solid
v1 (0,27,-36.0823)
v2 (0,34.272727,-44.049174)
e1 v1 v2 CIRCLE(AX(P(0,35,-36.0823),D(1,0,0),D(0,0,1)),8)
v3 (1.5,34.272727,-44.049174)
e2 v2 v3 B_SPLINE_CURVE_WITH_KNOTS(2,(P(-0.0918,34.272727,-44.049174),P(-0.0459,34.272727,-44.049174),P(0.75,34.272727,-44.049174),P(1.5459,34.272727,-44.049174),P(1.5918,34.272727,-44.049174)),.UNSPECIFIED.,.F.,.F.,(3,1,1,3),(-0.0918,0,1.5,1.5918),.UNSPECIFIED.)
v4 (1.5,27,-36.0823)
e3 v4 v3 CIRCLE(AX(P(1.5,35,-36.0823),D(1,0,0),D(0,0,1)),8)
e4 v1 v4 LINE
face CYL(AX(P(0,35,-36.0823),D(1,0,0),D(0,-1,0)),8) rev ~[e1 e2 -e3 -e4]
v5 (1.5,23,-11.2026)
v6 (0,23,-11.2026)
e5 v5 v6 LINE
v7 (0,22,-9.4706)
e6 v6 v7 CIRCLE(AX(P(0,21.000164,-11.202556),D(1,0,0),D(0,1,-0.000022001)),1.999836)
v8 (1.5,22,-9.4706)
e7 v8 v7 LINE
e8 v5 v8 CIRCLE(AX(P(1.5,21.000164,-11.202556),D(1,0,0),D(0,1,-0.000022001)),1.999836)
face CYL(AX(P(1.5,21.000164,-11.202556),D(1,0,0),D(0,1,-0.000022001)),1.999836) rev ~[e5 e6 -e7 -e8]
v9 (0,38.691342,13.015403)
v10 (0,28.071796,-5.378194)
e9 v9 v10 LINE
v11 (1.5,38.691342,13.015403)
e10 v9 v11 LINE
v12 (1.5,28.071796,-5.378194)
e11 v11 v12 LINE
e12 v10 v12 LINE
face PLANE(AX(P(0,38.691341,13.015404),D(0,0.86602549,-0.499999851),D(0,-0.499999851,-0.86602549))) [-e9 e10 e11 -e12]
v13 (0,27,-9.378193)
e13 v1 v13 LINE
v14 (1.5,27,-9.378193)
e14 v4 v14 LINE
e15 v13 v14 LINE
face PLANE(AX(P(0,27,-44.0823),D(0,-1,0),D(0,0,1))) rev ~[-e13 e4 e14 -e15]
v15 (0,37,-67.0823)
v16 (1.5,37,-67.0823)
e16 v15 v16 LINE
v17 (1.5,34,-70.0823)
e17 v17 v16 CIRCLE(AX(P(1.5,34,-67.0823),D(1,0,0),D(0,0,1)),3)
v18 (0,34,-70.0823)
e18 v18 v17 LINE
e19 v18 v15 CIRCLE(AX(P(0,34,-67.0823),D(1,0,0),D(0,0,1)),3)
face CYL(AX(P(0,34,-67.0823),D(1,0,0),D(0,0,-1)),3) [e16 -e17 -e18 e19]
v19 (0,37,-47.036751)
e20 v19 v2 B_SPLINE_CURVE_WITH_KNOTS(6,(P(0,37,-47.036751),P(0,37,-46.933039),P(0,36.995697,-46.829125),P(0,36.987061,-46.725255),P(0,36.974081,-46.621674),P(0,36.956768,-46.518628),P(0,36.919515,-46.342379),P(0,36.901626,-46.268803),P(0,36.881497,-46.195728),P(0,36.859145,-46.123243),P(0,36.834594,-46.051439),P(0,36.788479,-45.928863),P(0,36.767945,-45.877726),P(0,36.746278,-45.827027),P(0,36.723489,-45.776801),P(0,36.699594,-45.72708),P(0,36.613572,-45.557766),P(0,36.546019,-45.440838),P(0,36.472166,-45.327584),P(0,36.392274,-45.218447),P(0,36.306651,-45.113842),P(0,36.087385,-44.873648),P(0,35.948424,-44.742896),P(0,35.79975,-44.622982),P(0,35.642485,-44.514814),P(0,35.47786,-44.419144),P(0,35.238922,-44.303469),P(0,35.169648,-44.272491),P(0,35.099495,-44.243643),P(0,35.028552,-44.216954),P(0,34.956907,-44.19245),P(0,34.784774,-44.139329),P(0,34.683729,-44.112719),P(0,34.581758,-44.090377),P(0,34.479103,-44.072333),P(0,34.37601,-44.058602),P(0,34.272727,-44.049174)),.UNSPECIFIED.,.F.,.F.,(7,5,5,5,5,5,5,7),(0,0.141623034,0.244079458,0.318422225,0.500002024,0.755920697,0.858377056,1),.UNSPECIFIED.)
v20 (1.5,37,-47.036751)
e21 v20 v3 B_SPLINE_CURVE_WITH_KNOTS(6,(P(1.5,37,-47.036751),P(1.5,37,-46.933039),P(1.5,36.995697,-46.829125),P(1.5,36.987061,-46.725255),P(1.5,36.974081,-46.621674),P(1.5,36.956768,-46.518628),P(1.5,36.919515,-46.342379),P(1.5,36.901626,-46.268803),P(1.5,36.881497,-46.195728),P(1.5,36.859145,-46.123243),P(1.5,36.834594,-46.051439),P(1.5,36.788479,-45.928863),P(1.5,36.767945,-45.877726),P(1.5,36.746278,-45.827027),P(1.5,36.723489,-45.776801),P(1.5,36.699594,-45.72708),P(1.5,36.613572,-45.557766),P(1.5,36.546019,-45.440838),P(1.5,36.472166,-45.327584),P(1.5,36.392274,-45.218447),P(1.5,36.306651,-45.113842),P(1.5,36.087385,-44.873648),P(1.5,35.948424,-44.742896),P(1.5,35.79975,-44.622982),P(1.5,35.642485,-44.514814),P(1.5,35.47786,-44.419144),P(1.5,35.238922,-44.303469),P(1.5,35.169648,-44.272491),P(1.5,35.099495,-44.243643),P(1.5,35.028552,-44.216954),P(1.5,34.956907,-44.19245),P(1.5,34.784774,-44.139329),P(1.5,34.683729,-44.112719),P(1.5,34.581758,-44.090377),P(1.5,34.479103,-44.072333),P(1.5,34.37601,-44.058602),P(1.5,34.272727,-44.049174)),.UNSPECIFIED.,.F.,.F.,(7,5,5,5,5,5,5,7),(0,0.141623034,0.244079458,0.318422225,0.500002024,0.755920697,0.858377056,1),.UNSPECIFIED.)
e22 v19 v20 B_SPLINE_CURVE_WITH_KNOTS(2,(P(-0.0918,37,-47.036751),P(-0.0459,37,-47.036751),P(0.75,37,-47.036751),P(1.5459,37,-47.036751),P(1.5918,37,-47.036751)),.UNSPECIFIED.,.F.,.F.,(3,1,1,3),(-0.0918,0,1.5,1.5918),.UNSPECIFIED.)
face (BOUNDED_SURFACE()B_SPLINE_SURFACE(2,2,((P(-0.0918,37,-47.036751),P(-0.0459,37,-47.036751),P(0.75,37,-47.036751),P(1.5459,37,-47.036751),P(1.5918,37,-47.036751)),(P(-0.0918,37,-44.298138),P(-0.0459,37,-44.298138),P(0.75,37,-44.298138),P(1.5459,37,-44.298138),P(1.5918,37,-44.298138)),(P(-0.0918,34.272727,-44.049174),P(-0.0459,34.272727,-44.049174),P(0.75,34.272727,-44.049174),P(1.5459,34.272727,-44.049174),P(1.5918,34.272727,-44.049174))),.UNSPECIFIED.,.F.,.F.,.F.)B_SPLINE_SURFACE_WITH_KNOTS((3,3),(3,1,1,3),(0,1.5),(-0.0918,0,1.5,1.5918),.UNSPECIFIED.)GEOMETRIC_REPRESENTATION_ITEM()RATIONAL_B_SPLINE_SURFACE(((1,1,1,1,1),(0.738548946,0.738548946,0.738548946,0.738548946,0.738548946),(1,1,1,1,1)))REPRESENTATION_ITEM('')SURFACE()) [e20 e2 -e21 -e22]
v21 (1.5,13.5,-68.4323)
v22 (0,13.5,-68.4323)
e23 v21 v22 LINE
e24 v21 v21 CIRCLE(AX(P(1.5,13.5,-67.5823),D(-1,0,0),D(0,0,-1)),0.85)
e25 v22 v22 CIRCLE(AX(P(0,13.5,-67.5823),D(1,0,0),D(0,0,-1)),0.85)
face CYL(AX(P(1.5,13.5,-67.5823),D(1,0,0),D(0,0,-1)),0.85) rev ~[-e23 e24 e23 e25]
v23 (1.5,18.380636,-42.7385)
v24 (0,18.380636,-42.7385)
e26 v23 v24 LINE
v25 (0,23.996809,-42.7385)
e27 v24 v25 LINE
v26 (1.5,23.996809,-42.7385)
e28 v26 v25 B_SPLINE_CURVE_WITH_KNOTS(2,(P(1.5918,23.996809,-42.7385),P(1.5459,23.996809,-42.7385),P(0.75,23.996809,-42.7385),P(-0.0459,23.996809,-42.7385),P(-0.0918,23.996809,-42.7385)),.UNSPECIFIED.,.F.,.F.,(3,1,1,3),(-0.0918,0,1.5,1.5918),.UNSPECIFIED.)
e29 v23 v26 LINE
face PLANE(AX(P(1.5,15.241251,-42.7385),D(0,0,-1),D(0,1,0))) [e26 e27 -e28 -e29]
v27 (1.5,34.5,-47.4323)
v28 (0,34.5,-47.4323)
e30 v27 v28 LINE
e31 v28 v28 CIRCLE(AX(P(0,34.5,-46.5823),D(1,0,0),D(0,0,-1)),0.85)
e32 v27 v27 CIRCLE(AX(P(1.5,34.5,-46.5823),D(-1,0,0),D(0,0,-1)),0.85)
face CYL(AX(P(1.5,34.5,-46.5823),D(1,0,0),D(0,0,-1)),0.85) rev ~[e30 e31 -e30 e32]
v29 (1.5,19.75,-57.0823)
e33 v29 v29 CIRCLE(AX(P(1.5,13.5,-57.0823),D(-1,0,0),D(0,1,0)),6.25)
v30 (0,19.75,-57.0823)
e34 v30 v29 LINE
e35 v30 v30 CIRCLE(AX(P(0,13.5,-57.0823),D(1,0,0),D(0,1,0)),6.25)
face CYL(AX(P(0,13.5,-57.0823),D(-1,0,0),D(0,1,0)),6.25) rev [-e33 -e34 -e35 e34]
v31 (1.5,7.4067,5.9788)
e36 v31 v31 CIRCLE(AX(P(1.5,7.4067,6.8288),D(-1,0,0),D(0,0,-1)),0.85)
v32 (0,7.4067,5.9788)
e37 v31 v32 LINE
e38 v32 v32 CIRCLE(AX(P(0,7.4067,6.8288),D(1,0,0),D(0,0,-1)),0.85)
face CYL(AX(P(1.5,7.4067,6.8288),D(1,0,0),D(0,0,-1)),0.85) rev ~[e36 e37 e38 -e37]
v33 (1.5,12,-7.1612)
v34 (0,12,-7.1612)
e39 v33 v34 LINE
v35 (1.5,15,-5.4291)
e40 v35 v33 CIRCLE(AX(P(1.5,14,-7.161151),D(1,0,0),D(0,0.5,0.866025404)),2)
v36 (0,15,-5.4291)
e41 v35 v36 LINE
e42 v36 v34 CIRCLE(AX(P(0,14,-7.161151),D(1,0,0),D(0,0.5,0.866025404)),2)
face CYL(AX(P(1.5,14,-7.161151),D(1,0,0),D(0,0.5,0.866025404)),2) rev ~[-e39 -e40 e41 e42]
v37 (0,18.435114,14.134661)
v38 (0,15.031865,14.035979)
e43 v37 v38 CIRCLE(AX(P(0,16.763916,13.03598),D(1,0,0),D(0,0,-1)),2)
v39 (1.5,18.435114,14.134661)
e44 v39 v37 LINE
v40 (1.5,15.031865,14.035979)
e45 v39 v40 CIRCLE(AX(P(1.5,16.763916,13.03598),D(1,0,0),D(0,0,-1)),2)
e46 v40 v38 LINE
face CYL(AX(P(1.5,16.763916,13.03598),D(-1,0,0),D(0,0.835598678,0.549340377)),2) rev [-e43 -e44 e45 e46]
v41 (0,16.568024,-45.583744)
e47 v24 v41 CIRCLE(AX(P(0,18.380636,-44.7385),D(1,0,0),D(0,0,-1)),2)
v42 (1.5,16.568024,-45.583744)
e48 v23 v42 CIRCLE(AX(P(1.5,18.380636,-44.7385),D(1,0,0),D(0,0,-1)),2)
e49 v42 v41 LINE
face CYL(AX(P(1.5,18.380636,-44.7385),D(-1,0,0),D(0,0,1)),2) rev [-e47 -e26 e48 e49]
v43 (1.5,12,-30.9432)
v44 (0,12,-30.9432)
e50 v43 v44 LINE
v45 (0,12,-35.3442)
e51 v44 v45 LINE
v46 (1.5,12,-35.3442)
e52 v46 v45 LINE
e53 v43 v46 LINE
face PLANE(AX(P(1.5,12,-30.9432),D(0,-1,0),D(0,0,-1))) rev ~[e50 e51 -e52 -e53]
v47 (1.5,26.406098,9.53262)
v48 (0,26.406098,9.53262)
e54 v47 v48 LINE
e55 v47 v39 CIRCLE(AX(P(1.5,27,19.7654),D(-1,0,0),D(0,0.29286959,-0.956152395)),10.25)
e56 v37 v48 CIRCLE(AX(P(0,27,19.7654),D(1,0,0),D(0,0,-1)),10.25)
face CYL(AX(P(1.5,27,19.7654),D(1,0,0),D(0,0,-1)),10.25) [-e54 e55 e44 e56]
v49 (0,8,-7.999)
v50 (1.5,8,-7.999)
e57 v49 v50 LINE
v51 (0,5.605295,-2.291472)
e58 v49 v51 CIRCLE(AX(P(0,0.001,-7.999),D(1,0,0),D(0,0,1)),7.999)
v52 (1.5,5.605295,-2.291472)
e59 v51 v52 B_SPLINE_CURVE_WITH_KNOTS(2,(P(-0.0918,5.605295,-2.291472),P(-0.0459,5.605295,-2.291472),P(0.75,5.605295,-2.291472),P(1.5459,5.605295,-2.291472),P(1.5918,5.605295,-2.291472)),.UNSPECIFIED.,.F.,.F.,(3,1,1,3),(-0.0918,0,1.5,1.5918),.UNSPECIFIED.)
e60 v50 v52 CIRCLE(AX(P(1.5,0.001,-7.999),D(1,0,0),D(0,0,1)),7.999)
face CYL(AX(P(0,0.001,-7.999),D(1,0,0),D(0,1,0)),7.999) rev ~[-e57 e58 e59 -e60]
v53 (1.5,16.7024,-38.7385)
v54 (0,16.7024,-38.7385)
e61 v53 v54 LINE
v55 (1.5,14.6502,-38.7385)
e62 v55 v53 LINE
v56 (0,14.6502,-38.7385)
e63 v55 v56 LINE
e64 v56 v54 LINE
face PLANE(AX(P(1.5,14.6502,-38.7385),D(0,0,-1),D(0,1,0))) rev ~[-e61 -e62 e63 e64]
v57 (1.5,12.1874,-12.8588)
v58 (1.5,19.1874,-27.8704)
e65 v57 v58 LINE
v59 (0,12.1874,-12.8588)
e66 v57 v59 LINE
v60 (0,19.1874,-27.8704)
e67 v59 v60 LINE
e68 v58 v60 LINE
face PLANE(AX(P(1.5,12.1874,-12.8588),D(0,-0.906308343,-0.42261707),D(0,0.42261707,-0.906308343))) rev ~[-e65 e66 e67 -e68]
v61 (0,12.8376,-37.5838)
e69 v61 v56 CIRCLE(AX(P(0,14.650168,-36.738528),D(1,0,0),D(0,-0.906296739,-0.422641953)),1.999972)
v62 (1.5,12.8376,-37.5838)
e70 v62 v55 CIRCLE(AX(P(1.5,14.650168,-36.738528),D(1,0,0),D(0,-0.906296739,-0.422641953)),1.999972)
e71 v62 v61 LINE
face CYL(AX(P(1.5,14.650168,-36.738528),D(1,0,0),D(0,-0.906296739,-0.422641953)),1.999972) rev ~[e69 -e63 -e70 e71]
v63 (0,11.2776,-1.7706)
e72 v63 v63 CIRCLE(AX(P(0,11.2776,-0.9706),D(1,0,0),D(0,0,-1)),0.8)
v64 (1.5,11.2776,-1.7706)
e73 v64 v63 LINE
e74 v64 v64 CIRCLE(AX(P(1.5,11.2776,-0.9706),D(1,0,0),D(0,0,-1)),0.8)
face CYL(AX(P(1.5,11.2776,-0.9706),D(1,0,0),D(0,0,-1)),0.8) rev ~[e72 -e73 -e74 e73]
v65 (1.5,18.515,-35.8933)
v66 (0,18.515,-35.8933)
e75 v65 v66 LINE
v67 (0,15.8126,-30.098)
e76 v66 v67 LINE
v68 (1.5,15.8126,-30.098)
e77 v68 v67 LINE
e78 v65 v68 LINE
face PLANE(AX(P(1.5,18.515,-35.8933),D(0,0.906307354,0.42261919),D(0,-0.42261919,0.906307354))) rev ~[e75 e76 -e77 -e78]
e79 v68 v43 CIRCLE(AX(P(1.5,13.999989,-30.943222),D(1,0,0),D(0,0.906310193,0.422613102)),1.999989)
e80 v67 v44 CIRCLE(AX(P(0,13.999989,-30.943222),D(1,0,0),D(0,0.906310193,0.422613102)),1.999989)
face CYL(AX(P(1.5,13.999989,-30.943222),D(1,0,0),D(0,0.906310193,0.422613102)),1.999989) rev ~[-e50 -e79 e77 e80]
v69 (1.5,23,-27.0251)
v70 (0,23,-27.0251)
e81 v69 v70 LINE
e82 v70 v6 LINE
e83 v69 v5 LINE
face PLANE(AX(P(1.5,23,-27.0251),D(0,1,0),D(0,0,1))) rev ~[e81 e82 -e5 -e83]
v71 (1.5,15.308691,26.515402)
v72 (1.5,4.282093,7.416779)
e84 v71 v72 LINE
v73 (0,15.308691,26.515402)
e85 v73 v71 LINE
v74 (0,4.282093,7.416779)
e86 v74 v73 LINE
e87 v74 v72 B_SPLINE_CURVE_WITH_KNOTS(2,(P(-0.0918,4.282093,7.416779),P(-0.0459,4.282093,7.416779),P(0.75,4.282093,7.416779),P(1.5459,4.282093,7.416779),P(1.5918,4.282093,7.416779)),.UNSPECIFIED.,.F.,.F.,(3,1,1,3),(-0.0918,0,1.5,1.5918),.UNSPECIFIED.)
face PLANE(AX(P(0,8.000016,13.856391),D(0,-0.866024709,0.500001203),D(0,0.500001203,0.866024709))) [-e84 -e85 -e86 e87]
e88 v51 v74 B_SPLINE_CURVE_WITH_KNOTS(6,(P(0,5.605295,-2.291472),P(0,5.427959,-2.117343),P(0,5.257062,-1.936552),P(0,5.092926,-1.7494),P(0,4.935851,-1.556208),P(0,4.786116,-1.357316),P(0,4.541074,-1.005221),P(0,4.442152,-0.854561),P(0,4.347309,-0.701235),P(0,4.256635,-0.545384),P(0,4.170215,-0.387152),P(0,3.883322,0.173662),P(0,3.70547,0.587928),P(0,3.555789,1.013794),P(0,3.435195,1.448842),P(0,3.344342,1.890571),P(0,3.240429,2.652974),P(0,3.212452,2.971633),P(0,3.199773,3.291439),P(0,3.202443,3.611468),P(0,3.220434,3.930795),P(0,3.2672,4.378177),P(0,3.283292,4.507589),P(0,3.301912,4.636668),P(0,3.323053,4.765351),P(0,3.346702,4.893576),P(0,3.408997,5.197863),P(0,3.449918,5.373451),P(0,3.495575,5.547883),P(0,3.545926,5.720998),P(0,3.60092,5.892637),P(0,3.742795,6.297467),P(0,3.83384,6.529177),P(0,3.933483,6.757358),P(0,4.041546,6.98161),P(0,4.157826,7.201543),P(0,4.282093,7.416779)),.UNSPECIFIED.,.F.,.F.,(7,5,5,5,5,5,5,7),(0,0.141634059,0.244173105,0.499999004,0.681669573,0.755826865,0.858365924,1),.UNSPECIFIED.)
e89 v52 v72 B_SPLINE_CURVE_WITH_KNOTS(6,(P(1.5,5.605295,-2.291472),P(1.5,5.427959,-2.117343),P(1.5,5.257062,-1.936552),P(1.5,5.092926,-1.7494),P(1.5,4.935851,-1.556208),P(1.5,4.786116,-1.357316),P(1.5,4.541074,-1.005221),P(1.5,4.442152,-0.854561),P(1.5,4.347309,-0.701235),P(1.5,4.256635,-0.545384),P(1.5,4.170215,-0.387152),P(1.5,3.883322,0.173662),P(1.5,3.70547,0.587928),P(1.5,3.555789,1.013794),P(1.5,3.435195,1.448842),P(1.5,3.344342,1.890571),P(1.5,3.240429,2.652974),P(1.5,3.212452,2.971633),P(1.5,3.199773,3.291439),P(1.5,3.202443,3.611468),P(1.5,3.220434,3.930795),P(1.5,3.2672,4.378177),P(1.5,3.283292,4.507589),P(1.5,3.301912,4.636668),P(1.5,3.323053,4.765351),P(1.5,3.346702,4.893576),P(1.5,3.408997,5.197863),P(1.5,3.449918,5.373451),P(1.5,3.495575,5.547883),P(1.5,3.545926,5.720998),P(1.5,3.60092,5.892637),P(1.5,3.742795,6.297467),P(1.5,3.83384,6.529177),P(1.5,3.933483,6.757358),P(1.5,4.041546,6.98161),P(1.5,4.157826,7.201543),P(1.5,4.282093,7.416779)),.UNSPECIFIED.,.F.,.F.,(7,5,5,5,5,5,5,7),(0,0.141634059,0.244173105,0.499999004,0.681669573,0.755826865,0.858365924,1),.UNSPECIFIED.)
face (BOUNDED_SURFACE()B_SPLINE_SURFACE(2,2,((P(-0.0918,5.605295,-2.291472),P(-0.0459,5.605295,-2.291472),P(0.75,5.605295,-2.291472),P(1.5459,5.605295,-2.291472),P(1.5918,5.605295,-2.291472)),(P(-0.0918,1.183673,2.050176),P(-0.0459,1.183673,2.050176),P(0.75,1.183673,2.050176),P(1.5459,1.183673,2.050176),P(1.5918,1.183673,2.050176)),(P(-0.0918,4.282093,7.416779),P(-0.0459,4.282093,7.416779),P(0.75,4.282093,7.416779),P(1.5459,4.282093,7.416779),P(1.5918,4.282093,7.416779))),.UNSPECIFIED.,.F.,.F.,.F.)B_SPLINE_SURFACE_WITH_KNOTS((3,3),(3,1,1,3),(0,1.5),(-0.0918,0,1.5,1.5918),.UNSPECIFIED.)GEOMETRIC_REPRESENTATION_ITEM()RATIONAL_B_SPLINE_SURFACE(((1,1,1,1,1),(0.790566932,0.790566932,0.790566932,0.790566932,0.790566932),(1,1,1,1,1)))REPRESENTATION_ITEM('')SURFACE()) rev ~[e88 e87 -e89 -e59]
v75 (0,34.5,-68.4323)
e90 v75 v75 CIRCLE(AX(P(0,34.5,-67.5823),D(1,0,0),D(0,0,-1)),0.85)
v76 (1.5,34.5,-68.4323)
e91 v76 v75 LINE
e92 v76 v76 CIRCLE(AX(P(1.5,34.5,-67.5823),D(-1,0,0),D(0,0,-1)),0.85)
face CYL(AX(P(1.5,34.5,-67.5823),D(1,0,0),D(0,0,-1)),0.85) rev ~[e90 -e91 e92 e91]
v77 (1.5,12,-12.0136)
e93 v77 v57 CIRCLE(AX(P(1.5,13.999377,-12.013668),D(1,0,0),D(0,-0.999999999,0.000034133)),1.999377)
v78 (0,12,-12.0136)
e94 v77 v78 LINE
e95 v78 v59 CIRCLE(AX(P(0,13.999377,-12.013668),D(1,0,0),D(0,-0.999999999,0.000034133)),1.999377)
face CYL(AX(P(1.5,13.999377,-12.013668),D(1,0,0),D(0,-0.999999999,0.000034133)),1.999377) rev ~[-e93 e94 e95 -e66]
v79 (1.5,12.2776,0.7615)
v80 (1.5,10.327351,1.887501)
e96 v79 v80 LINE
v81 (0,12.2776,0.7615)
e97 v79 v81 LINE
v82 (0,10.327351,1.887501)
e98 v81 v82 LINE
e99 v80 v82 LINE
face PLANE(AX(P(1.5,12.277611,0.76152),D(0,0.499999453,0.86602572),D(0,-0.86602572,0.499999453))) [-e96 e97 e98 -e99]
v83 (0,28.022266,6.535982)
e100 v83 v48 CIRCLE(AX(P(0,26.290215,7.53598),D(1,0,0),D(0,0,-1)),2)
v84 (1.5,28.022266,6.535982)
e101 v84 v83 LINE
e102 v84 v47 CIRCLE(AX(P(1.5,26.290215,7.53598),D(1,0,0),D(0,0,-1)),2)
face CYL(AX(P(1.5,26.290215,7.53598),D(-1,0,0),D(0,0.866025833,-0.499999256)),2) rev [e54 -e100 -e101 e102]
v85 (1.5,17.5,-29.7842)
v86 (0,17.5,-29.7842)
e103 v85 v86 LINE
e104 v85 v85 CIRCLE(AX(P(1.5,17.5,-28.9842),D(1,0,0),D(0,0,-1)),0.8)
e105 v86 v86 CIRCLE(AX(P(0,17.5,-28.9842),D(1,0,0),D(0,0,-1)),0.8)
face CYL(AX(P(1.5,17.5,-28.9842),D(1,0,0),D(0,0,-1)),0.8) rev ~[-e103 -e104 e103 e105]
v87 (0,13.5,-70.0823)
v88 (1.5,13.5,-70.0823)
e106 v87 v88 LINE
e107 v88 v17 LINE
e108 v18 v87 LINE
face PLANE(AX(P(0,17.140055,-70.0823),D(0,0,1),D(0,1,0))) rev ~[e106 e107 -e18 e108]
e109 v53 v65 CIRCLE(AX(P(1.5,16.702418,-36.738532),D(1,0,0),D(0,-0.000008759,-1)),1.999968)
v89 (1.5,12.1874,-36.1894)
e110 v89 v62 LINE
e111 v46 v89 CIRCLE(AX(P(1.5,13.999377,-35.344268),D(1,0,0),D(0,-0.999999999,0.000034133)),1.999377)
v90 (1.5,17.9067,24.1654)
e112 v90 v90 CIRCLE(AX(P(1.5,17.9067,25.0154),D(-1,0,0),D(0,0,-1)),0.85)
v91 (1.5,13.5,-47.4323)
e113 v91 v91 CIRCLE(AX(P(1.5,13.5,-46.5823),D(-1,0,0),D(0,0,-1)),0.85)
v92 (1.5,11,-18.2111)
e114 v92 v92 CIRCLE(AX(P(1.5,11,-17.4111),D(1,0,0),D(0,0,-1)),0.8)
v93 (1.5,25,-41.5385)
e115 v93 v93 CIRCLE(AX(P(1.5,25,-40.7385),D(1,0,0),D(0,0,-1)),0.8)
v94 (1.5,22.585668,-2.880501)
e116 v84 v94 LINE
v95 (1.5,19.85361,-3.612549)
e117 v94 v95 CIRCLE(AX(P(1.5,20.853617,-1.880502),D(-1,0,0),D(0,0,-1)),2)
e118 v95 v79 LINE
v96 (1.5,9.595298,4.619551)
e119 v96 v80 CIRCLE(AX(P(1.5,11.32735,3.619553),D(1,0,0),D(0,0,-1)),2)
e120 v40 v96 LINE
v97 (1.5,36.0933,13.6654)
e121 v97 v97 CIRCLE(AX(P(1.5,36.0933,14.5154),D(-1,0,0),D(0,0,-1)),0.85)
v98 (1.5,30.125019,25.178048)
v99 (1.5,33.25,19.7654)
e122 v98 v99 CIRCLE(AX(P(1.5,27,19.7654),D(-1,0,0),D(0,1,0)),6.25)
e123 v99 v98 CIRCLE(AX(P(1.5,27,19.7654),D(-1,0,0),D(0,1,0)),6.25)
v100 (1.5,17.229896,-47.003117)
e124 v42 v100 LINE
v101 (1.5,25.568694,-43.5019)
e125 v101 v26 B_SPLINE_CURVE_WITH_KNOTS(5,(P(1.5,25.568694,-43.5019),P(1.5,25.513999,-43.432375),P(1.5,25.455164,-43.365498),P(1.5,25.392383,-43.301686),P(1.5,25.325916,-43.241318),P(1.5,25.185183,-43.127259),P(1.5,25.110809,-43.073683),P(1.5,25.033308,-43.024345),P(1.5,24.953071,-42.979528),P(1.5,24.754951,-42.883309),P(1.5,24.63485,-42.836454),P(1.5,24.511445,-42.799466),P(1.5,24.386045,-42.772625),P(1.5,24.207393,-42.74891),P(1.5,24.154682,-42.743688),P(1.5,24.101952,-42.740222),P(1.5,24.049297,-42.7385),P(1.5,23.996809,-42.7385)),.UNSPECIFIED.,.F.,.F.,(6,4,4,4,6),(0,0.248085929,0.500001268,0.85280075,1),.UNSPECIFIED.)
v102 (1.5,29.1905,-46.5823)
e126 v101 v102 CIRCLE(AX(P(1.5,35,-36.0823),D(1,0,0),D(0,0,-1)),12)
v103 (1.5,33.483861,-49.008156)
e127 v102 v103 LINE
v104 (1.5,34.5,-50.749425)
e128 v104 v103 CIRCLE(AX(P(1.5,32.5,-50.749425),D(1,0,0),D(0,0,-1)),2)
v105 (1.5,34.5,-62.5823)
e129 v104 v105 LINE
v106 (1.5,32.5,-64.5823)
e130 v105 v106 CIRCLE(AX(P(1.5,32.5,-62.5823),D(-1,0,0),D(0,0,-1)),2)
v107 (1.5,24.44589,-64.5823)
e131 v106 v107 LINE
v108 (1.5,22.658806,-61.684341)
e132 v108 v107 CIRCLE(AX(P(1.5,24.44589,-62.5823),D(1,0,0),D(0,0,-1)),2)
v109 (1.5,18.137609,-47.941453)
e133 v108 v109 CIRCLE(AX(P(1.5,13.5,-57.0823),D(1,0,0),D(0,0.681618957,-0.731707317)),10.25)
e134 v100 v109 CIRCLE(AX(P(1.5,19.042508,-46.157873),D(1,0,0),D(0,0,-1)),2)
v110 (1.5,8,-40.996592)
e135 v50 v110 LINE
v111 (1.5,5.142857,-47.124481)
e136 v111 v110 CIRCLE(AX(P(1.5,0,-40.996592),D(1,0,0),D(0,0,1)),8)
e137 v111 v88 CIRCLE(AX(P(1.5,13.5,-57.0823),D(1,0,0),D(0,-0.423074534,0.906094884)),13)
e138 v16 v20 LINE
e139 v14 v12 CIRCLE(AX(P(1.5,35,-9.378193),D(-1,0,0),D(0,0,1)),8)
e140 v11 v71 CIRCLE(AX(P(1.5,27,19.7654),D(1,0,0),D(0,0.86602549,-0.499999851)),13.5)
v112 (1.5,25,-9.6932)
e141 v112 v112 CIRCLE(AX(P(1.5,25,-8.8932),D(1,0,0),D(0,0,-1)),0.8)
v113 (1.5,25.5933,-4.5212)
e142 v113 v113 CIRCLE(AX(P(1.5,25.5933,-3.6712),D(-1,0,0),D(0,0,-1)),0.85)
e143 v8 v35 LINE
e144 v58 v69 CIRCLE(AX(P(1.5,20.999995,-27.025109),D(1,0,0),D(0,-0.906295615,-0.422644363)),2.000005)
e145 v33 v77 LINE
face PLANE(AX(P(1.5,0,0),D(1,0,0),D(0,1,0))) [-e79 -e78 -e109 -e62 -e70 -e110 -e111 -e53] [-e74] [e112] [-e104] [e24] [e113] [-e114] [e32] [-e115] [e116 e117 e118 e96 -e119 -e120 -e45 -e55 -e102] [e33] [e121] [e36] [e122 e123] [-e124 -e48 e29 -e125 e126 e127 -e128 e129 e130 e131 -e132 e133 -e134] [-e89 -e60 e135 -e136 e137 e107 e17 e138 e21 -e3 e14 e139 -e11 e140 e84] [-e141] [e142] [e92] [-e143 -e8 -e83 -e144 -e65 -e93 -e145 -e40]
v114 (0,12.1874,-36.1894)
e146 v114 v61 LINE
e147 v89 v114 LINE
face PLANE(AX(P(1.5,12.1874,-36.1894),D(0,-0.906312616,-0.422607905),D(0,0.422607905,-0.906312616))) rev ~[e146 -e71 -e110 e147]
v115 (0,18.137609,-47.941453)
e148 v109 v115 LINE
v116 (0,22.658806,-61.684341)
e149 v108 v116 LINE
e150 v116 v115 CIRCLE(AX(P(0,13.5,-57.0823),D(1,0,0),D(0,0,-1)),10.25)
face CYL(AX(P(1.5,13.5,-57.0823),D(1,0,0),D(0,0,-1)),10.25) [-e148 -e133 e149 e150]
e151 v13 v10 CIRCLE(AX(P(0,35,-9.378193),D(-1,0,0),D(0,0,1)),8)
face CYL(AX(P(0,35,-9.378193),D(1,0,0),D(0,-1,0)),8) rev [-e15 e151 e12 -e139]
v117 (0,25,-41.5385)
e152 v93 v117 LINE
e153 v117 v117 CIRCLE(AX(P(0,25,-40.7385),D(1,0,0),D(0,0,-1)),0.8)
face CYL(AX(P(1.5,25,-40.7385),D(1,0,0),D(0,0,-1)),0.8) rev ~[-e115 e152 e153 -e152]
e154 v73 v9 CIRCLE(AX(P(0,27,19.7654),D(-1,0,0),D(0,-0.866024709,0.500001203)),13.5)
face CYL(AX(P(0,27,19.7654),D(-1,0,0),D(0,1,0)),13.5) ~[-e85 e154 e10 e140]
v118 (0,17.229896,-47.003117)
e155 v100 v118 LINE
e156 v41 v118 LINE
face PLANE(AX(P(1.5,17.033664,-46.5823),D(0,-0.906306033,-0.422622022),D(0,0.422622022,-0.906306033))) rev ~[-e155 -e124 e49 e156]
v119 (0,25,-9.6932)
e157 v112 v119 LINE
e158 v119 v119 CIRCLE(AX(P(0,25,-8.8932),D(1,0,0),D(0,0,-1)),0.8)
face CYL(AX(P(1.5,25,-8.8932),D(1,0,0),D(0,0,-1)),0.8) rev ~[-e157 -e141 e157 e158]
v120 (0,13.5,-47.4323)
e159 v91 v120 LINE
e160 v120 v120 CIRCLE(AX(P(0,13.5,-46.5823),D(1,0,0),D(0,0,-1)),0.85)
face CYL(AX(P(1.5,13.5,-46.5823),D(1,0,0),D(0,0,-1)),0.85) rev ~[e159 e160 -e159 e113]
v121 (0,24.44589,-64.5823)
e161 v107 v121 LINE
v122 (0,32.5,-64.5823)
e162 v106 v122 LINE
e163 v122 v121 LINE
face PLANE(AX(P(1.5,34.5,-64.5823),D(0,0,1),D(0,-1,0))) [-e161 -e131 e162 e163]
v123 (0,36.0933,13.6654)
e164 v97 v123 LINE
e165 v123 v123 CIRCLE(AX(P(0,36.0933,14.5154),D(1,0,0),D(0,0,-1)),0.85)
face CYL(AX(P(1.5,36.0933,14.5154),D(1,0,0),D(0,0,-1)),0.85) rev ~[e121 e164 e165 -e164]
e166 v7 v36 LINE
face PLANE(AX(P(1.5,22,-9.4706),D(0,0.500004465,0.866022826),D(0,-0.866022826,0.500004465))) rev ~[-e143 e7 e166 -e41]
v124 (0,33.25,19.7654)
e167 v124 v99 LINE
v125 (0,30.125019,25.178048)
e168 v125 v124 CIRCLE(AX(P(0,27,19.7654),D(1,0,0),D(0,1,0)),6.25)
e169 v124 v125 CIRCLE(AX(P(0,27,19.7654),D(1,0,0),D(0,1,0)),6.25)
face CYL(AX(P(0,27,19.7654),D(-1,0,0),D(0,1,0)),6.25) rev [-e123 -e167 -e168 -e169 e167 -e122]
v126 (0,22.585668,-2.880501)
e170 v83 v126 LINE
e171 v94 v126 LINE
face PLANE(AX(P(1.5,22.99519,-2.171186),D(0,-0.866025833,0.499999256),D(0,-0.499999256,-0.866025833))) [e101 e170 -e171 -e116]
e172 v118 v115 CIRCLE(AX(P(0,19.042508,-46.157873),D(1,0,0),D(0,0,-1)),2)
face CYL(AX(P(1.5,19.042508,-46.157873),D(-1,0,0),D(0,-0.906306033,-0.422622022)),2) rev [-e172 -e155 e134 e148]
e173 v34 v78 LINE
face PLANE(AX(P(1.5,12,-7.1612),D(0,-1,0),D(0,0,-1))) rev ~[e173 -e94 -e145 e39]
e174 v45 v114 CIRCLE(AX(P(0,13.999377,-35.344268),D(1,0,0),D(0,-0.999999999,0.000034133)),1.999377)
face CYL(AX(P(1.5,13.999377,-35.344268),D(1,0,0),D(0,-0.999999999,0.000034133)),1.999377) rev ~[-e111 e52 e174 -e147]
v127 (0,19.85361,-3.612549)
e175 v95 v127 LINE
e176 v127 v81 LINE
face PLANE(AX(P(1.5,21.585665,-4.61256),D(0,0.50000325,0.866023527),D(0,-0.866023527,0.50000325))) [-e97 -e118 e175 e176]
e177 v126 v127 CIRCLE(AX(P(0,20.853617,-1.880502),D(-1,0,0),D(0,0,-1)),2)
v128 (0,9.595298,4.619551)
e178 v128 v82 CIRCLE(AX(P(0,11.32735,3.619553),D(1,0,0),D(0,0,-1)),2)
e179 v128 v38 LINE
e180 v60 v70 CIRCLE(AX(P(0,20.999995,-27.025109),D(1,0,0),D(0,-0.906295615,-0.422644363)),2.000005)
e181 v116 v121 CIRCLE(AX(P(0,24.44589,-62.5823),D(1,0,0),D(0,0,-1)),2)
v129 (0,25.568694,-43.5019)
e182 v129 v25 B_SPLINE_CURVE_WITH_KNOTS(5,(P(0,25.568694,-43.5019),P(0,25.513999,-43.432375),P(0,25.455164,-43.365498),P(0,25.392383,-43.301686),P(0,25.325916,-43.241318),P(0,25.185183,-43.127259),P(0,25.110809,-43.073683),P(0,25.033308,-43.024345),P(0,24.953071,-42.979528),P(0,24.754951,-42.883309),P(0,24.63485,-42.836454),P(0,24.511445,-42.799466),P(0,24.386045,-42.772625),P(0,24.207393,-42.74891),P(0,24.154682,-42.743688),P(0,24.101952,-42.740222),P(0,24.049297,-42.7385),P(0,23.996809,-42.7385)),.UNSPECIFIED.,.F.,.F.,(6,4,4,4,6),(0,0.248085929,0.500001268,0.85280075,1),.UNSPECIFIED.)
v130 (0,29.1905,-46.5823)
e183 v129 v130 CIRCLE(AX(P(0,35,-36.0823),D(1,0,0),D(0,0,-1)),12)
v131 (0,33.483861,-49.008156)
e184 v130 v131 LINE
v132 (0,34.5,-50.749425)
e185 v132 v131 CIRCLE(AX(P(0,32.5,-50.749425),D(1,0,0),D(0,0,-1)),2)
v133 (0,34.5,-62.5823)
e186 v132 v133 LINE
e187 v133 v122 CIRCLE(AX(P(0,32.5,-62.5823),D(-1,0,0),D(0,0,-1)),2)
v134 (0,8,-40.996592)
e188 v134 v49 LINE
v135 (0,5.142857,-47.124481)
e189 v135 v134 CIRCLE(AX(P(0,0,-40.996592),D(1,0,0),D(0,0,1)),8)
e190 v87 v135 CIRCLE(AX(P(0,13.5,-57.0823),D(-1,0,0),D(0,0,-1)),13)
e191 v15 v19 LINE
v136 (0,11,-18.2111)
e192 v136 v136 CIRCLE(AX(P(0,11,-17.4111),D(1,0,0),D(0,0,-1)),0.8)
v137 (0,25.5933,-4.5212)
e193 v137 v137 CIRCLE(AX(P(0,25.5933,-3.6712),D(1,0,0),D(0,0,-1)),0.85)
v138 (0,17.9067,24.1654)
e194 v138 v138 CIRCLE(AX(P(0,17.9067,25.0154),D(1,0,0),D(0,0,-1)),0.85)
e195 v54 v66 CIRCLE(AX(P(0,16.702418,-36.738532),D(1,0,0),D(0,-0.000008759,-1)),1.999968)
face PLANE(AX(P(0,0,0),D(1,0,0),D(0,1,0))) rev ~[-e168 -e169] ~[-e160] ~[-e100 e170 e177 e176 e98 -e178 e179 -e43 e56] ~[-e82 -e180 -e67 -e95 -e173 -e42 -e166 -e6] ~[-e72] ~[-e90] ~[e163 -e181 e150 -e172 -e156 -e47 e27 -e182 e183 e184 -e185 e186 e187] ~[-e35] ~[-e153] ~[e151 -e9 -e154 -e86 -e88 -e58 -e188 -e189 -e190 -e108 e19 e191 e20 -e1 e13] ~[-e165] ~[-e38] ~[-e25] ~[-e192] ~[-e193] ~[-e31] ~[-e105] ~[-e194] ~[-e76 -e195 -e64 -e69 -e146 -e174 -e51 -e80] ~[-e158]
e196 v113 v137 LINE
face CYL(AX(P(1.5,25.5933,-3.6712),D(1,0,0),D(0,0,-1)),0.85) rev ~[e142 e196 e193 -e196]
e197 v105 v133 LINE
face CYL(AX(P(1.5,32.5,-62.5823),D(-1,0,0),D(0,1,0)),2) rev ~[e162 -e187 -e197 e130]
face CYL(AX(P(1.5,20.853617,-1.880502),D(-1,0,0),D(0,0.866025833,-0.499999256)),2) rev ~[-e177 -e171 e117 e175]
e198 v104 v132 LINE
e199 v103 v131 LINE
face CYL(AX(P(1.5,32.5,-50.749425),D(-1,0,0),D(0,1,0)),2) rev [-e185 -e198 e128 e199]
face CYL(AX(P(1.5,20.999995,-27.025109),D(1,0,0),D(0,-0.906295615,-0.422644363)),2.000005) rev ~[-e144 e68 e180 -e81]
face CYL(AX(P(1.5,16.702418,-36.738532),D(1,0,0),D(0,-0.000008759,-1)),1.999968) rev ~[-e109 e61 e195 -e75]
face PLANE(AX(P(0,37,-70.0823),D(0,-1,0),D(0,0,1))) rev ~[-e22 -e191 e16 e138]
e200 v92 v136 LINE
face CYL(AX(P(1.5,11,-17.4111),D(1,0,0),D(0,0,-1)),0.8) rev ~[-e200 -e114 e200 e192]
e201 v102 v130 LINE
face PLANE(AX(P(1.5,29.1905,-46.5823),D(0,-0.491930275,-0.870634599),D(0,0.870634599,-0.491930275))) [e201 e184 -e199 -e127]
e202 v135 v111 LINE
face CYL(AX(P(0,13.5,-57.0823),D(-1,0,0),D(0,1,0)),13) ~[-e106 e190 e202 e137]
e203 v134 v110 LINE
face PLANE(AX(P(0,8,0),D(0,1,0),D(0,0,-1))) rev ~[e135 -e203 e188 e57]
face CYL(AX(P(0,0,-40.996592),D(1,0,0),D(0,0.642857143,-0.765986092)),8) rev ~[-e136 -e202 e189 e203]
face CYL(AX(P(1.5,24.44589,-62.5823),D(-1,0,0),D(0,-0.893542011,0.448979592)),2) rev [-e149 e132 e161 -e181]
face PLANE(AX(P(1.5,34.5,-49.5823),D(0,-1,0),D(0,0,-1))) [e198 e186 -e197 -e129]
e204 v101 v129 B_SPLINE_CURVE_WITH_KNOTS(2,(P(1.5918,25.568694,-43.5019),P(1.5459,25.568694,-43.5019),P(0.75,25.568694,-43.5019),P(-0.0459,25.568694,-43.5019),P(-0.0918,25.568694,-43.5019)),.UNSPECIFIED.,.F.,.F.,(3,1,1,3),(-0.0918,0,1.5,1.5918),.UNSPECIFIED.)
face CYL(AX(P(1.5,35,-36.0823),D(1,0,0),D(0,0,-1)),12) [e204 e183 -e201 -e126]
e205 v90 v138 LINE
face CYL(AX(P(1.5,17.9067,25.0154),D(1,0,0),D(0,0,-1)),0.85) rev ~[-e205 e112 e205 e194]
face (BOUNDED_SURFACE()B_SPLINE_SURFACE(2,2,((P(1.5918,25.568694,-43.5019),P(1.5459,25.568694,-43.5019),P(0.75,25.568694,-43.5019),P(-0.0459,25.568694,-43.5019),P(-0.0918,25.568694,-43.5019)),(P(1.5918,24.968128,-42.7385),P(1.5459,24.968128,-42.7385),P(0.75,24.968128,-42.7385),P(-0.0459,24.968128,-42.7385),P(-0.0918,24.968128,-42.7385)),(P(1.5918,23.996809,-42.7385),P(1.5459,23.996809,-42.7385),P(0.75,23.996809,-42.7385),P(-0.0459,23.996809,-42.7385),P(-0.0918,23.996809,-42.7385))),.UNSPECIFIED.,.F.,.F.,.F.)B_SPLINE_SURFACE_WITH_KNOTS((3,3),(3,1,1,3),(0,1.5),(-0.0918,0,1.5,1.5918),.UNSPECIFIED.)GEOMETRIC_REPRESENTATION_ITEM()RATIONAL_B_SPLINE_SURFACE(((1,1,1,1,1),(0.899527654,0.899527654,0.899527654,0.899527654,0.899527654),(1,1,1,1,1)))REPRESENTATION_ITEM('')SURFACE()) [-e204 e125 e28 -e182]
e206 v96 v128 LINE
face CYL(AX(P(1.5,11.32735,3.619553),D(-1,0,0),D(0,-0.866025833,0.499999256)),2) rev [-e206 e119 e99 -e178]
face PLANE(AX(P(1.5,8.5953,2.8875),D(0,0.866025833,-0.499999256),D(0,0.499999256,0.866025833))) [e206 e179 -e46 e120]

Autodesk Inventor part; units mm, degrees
ref_plane "YZ Plane" through (0, 0, 0) normal (1, 0, 0) x (0, 1, 0)
ref_plane "XZ Plane" through (0, 0, 0) normal (0, 1, 0) x (-1, 0, 0)
ref_plane "XY Plane" through (0, 0, 0) normal (0, 0, 1) x (1, 0, 0)
sketch "スケッチ1" plane through (0, 0, 0) normal (1, 0, 0) x (0, 1, 0)
  line L0 (27, 0) -> (0, 0)
  line L1 (0, 0) -> (0, -65.8723)
  line L2 (0, -65.8723) -> (27, -65.8723)
  line L3 (27, -65.8723) -> (27, 0)
  line L4 (0, 0) -> (19.7037, 34.1277)
  line L5 (19.7037, 34.1277) -> (43.0863, 20.6277)
  line L6 (43.0863, 20.6277) -> (27, -7.2346)
  line L7 (27, 19.7654) -> (31.395, 27.3777)
  circle A0 centre (27, 19.7654) radius 6.25
  circle A1 centre (13.5, -57.0823) radius 6.25
  line L8 (13.5, -65.8723) -> (13.5, -57.0823)
  circle A2 centre (27, 19.7654) radius 13.5
  circle A3 centre (13.5, -57.0823) radius 13.5
  circle A4 centre (13.5, -57.0823) radius 13
  line L9 (37, -44.0823) -> (13.5, -44.0823)
  line L10 (13.5, -44.0823) -> (13.5, -70.0823)
  line L11 (13.5, -70.0823) -> (37, -70.0823)
  line L12 (37, -70.0823) -> (37, -44.0823)
  line L13 (8, 13.8564) -> (8, -44.7534)
  line L14 (8, -44.7534) -> (8, -45.303)
  point P0 (38.6913, 13.0154)
  point P1 (15.3087, 26.5154)
  point P2 (0, -57.0823)
  point P3 (27, -57.0823)
  point P4 (0, -57.0823)
  point P5 (27, -44.0823)
  point P6 (40.2685, 22.2546)
  point P7 (22.5215, 32.5009)
  point P8 (8, 0)
  point P9 (17.1401, -44.0823)
  point P10 (13.5, -44.0823)
  dimension "d23" = 26
  dimension "d0" = 27
  dimension "d4" = 150
  dimension "d5" = 90
  dimension "d6" = 27
  dimension "d12" = 8.79
  dimension "d13" = 8.79
  dimension "d14" = 12.5
  dimension "d17" = 100
  dimension "d24" = 23.5
  dimension "d30" = 8
extrude "押し出し1" add sketch "スケッチ1" along normal blind 1.5 contours L3 L9 A3 L13 L0 | L0 L13 L4 A2 L6 L3 | L0 L4 L13 | A3 L9 A4 L14 | L9 L12 L11 A3 L2 L3 | L3 A3 L9 | A0 | A2 L5 | A3 L2 A4 L9 | A4 L10 A1 L8 L2 | L3 L2 A3 | A2 L5 | A4 L2 L8 A1 L10 | L2 L10 A4 | A3 L11 A4 L2 | L10 L8 A1 | A1 L8 L10 | L2 A4 L10 picked at (17.348, -69.6234)
extrude "押し出し2" cut sketch "スケッチ1" along normal blind 1.5 contours A0 | L10 L8 A1 | A1 L8 L10
fillet "フィレット1" radius 8 5 edges at (0.75, 27, -7.2346) (0.75, 27, -44.0823) (0.75, 8, -45.303) (0.75, 8, 0) (0.75, 0, 0)
fillet "フィレット2" radius 3 2 edges at (0.75, 37, -70.0823) (0.75, 37, -44.0823)
sketch "スケッチ6" plane through (1.5, 0, 0) normal (1, 0, 0) x (0, 0, -1)
  circle A0 centre (67.5823, 34.5) radius 0.85 projected
  circle A1 centre (46.5823, 34.5) radius 0.85 projected
  circle A2 centre (67.5823, 13.5) radius 0.85 projected
  circle A3 centre (46.5823, 13.5) radius 0.85 projected
  circle A4 centre (-6.8288, 7.4067) radius 0.85 projected
  circle A5 centre (-25.0154, 17.9067) radius 0.85 projected
  circle A6 centre (-14.5154, 36.0933) radius 0.85 projected
  circle A7 centre (3.6712, 25.5933) radius 0.85 projected
  line L0 (35.8933, 18.515) -> (30.098, 15.8126) projected
  line L1 (30.9432, 12) -> (35.3442, 12) projected
  line L2 (36.1894, 12.1874) -> (37.5838, 12.8376) projected
  line L3 (38.7385, 14.6502) -> (38.7385, 16.7024) projected
  line L4 (27.0251, 23) -> (11.2026, 23) projected
  line L5 (9.4706, 22) -> (5.4291, 15) projected
  line L6 (7.1612, 12) -> (12.0136, 12) projected
  line L7 (12.8588, 12.1874) -> (27.8704, 19.1874) projected
  line L8 (42.7385, 10.8278) -> (36.6744, 8) projected
  line L9 (3.1834, 8) -> (36.6744, 8) projected
  arc A8 (2.1834, 8.2679) -> (3.1834, 8) centre (3.1834, 10) ccw projected
  line L10 (-0.0294, 9.5455) -> (2.1834, 8.2679) projected
  arc A9 (-0.7615, 12.2776) -> (-0.0294, 9.5455) centre (0.9706, 11.2776) ccw projected
  line L11 (7.1612, 26) -> (-0.7615, 12.2776) projected
  arc A10 (8.8932, 27) -> (7.1612, 26) centre (8.8932, 25) ccw projected
  line L12 (40.7385, 27) -> (8.8932, 27) projected
  line L13 (42.7385, 10.8278) -> (42.7385, 25) projected
  circle A11 centre (-19.7654, 27) radius 6.25 projected
  circle A12 centre (57.0823, 13.5) radius 6.25 projected
  line L14 (-14.5154, 36.0933) -> (3.6712, 25.5933)
  line L15 (3.6712, 25.5933) -> (-6.8288, 7.4067)
  line L16 (-6.8288, 7.4067) -> (-25.0154, 17.9067)
  line L17 (-25.0154, 17.9067) -> (-14.5154, 36.0933)
  line L18 (5.3782, 28.0718) -> (-13.0154, 38.6913) projected
  line L19 (46.5823, 34.5) -> (67.5823, 34.5)
  line L20 (67.5823, 34.5) -> (67.5823, 13.5)
  line L21 (67.5823, 13.5) -> (46.5823, 13.5)
  line L22 (46.5823, 13.5) -> (46.5823, 34.5)
  line L23 (-16.0154, 33.4952) -> (4.6125, 21.5857)
  line L24 (4.6125, 21.5857) -> (-2.8875, 8.5953)
  line L25 (-2.8875, 8.5953) -> (-23.5154, 20.5048)
  line L26 (-23.5154, 20.5048) -> (-16.0154, 33.4952)
  line L27 (-2.8875, 8.5953) -> (3.1834, 8)
  circle A13 centre (-19.7654, 27) radius 10.25
  circle A14 centre (57.0823, 13.5) radius 10.25
  line L28 (49.5823, 34.5) -> (64.5823, 34.5)
  line L29 (64.5823, 34.5) -> (64.5823, 13.5)
  line L30 (64.5823, 13.5) -> (49.5823, 13.5)
  line L31 (49.5823, 13.5) -> (49.5823, 34.5)
  circle A15 centre (36.0823, 35) radius 12
  arc A16 (36.0823, 27) -> (44.0491, 34.2727) centre (36.0823, 35) ccw projected
  line L32 (38.7385, 13.376) -> (52.582, 19.8314)
  line L33 (46.5823, 29.1905) -> (49.5823, 34.5)
  arc A17 (35.3442, 12) -> (36.1894, 12.1874) centre (35.3442, 14) ccw projected
  arc A18 (37.5838, 12.8376) -> (38.7385, 14.6502) centre (36.7385, 14.6502) ccw projected
  arc A19 (27.8704, 19.1874) -> (27.0251, 23) centre (27.0251, 21) ccw projected
  arc A20 (11.2026, 23) -> (9.4706, 22) centre (11.2026, 21) ccw projected
  arc A21 (5.4291, 15) -> (7.1612, 12) centre (7.1612, 14) ccw projected
  arc A22 (12.0136, 12) -> (12.8588, 12.1874) centre (12.0136, 14) ccw projected
  arc A23 (30.098, 15.8126) -> (30.9432, 12) centre (30.9432, 14) ccw projected
  arc A24 (38.7385, 16.7024) -> (35.8933, 18.515) centre (36.7385, 16.7024) ccw projected
  circle A25 centre (8.8932, 25) radius 0.8 projected
  circle A26 centre (17.4111, 11) radius 0.8 projected
  circle A27 centre (28.9842, 17.5) radius 0.8 projected
  circle A28 centre (0.9706, 11.2776) radius 0.8 projected
  circle A29 centre (40.7385, 25) radius 0.8 projected
  arc A30 (42.7385, 25) -> (40.7385, 27) centre (40.7385, 25) ccw projected
  point P0 (0, 0)
  point P1 (8, 8)
  point P2 (-7.4164, 4.2819)
  point P3 (42.7385, 15.2413)
  point P4 (47.6605, 17.5364)
  point P5 (64.5823, 20.4866)
  point P6 (48.0718, 34.5)
  point P7 (42.7385, 25.0153)
  point P8 (-17.4648, 17.0115)
  point P9 (-0.7615, 12.2776)
  point P10 (-9.9648, 30.0019)
  point P11 (67.3323, 13.5)
  point P12 (42.7385, 25.0153)
  point P13 (27.138, 27)
  point P14 (46.5823, 17.0336)
  point P15 (46.8323, 13.5)
  point P16 (46.5823, 14.35)
  point P17 (47.4323, 13.5)
  point P18 (67.5823, 14.35)
  point P19 (66.7323, 13.5)
  point P20 (46.5823, 33.65)
  point P21 (47.4323, 34.5)
  point P22 (67.5823, 33.65)
  point P23 (66.7323, 34.5)
  dimension "d31" = 3
  dimension "d32" = 3
  dimension "d33" = 4
  dimension "d34" = 4
  dimension "d35" = 3
  dimension "d36" = 3
  dimension "d37" = 4
extrude "押し出し6" cut sketch "スケッチ6" against normal through all contours A0 L20 L19 | L19 L20 A0 | L29 A14 L31 L19 | L20 L21 A14 A2 | A2 A14 L21 L20 | L31 A14 L32 L22 L33 | A14 L21 A2 | L22 L32 L13 A30 A15 | A2 L21 A14 | L19 L22 A1 | A1 L22 L19 | A14 L21 A3 | A3 L22 L21 A14 | A14 L21 L22 A3 | A3 L21 A14 | L11 L24 L25 L15 L23 | L15 L25 A13 L23 | L15 L14 A7 | A7 L14 L15 | L15 L16 A4 | A4 L16 L15 | A13 L17 L14 A6 | A6 L17 A13 | L14 L17 A13 A6 | A13 L17 A5 | A5 L16 L17 A13 | A6 A13 L17 | A5 A13 L17 L16 | L17 A13 A5 | A24 L3 A18 L2 A17 L1 A23 L0 | A19 L7 A22 L6 A21 L5 A20 L4 | A25 | A26 | A27 | A28 | A29
fillet "フィレット3" radius 2 10 edges at (0.75, 17.0115, 17.4648) (0.75, 30.0019, 9.9648) (0.75, 21.5857, -4.6125) (0.75, 8.5953, 2.8875) (0.75, 15.2413, -42.7385) (0.75, 17.5364, -47.6605) (0.75, 34.5, -49.5823) (0.75, 34.5, -64.5823) (0.75, 20.4866, -64.5823) (0.75, 25.0153, -42.7385)
properties part number "leg_under" material "アルミニウム 6061"
